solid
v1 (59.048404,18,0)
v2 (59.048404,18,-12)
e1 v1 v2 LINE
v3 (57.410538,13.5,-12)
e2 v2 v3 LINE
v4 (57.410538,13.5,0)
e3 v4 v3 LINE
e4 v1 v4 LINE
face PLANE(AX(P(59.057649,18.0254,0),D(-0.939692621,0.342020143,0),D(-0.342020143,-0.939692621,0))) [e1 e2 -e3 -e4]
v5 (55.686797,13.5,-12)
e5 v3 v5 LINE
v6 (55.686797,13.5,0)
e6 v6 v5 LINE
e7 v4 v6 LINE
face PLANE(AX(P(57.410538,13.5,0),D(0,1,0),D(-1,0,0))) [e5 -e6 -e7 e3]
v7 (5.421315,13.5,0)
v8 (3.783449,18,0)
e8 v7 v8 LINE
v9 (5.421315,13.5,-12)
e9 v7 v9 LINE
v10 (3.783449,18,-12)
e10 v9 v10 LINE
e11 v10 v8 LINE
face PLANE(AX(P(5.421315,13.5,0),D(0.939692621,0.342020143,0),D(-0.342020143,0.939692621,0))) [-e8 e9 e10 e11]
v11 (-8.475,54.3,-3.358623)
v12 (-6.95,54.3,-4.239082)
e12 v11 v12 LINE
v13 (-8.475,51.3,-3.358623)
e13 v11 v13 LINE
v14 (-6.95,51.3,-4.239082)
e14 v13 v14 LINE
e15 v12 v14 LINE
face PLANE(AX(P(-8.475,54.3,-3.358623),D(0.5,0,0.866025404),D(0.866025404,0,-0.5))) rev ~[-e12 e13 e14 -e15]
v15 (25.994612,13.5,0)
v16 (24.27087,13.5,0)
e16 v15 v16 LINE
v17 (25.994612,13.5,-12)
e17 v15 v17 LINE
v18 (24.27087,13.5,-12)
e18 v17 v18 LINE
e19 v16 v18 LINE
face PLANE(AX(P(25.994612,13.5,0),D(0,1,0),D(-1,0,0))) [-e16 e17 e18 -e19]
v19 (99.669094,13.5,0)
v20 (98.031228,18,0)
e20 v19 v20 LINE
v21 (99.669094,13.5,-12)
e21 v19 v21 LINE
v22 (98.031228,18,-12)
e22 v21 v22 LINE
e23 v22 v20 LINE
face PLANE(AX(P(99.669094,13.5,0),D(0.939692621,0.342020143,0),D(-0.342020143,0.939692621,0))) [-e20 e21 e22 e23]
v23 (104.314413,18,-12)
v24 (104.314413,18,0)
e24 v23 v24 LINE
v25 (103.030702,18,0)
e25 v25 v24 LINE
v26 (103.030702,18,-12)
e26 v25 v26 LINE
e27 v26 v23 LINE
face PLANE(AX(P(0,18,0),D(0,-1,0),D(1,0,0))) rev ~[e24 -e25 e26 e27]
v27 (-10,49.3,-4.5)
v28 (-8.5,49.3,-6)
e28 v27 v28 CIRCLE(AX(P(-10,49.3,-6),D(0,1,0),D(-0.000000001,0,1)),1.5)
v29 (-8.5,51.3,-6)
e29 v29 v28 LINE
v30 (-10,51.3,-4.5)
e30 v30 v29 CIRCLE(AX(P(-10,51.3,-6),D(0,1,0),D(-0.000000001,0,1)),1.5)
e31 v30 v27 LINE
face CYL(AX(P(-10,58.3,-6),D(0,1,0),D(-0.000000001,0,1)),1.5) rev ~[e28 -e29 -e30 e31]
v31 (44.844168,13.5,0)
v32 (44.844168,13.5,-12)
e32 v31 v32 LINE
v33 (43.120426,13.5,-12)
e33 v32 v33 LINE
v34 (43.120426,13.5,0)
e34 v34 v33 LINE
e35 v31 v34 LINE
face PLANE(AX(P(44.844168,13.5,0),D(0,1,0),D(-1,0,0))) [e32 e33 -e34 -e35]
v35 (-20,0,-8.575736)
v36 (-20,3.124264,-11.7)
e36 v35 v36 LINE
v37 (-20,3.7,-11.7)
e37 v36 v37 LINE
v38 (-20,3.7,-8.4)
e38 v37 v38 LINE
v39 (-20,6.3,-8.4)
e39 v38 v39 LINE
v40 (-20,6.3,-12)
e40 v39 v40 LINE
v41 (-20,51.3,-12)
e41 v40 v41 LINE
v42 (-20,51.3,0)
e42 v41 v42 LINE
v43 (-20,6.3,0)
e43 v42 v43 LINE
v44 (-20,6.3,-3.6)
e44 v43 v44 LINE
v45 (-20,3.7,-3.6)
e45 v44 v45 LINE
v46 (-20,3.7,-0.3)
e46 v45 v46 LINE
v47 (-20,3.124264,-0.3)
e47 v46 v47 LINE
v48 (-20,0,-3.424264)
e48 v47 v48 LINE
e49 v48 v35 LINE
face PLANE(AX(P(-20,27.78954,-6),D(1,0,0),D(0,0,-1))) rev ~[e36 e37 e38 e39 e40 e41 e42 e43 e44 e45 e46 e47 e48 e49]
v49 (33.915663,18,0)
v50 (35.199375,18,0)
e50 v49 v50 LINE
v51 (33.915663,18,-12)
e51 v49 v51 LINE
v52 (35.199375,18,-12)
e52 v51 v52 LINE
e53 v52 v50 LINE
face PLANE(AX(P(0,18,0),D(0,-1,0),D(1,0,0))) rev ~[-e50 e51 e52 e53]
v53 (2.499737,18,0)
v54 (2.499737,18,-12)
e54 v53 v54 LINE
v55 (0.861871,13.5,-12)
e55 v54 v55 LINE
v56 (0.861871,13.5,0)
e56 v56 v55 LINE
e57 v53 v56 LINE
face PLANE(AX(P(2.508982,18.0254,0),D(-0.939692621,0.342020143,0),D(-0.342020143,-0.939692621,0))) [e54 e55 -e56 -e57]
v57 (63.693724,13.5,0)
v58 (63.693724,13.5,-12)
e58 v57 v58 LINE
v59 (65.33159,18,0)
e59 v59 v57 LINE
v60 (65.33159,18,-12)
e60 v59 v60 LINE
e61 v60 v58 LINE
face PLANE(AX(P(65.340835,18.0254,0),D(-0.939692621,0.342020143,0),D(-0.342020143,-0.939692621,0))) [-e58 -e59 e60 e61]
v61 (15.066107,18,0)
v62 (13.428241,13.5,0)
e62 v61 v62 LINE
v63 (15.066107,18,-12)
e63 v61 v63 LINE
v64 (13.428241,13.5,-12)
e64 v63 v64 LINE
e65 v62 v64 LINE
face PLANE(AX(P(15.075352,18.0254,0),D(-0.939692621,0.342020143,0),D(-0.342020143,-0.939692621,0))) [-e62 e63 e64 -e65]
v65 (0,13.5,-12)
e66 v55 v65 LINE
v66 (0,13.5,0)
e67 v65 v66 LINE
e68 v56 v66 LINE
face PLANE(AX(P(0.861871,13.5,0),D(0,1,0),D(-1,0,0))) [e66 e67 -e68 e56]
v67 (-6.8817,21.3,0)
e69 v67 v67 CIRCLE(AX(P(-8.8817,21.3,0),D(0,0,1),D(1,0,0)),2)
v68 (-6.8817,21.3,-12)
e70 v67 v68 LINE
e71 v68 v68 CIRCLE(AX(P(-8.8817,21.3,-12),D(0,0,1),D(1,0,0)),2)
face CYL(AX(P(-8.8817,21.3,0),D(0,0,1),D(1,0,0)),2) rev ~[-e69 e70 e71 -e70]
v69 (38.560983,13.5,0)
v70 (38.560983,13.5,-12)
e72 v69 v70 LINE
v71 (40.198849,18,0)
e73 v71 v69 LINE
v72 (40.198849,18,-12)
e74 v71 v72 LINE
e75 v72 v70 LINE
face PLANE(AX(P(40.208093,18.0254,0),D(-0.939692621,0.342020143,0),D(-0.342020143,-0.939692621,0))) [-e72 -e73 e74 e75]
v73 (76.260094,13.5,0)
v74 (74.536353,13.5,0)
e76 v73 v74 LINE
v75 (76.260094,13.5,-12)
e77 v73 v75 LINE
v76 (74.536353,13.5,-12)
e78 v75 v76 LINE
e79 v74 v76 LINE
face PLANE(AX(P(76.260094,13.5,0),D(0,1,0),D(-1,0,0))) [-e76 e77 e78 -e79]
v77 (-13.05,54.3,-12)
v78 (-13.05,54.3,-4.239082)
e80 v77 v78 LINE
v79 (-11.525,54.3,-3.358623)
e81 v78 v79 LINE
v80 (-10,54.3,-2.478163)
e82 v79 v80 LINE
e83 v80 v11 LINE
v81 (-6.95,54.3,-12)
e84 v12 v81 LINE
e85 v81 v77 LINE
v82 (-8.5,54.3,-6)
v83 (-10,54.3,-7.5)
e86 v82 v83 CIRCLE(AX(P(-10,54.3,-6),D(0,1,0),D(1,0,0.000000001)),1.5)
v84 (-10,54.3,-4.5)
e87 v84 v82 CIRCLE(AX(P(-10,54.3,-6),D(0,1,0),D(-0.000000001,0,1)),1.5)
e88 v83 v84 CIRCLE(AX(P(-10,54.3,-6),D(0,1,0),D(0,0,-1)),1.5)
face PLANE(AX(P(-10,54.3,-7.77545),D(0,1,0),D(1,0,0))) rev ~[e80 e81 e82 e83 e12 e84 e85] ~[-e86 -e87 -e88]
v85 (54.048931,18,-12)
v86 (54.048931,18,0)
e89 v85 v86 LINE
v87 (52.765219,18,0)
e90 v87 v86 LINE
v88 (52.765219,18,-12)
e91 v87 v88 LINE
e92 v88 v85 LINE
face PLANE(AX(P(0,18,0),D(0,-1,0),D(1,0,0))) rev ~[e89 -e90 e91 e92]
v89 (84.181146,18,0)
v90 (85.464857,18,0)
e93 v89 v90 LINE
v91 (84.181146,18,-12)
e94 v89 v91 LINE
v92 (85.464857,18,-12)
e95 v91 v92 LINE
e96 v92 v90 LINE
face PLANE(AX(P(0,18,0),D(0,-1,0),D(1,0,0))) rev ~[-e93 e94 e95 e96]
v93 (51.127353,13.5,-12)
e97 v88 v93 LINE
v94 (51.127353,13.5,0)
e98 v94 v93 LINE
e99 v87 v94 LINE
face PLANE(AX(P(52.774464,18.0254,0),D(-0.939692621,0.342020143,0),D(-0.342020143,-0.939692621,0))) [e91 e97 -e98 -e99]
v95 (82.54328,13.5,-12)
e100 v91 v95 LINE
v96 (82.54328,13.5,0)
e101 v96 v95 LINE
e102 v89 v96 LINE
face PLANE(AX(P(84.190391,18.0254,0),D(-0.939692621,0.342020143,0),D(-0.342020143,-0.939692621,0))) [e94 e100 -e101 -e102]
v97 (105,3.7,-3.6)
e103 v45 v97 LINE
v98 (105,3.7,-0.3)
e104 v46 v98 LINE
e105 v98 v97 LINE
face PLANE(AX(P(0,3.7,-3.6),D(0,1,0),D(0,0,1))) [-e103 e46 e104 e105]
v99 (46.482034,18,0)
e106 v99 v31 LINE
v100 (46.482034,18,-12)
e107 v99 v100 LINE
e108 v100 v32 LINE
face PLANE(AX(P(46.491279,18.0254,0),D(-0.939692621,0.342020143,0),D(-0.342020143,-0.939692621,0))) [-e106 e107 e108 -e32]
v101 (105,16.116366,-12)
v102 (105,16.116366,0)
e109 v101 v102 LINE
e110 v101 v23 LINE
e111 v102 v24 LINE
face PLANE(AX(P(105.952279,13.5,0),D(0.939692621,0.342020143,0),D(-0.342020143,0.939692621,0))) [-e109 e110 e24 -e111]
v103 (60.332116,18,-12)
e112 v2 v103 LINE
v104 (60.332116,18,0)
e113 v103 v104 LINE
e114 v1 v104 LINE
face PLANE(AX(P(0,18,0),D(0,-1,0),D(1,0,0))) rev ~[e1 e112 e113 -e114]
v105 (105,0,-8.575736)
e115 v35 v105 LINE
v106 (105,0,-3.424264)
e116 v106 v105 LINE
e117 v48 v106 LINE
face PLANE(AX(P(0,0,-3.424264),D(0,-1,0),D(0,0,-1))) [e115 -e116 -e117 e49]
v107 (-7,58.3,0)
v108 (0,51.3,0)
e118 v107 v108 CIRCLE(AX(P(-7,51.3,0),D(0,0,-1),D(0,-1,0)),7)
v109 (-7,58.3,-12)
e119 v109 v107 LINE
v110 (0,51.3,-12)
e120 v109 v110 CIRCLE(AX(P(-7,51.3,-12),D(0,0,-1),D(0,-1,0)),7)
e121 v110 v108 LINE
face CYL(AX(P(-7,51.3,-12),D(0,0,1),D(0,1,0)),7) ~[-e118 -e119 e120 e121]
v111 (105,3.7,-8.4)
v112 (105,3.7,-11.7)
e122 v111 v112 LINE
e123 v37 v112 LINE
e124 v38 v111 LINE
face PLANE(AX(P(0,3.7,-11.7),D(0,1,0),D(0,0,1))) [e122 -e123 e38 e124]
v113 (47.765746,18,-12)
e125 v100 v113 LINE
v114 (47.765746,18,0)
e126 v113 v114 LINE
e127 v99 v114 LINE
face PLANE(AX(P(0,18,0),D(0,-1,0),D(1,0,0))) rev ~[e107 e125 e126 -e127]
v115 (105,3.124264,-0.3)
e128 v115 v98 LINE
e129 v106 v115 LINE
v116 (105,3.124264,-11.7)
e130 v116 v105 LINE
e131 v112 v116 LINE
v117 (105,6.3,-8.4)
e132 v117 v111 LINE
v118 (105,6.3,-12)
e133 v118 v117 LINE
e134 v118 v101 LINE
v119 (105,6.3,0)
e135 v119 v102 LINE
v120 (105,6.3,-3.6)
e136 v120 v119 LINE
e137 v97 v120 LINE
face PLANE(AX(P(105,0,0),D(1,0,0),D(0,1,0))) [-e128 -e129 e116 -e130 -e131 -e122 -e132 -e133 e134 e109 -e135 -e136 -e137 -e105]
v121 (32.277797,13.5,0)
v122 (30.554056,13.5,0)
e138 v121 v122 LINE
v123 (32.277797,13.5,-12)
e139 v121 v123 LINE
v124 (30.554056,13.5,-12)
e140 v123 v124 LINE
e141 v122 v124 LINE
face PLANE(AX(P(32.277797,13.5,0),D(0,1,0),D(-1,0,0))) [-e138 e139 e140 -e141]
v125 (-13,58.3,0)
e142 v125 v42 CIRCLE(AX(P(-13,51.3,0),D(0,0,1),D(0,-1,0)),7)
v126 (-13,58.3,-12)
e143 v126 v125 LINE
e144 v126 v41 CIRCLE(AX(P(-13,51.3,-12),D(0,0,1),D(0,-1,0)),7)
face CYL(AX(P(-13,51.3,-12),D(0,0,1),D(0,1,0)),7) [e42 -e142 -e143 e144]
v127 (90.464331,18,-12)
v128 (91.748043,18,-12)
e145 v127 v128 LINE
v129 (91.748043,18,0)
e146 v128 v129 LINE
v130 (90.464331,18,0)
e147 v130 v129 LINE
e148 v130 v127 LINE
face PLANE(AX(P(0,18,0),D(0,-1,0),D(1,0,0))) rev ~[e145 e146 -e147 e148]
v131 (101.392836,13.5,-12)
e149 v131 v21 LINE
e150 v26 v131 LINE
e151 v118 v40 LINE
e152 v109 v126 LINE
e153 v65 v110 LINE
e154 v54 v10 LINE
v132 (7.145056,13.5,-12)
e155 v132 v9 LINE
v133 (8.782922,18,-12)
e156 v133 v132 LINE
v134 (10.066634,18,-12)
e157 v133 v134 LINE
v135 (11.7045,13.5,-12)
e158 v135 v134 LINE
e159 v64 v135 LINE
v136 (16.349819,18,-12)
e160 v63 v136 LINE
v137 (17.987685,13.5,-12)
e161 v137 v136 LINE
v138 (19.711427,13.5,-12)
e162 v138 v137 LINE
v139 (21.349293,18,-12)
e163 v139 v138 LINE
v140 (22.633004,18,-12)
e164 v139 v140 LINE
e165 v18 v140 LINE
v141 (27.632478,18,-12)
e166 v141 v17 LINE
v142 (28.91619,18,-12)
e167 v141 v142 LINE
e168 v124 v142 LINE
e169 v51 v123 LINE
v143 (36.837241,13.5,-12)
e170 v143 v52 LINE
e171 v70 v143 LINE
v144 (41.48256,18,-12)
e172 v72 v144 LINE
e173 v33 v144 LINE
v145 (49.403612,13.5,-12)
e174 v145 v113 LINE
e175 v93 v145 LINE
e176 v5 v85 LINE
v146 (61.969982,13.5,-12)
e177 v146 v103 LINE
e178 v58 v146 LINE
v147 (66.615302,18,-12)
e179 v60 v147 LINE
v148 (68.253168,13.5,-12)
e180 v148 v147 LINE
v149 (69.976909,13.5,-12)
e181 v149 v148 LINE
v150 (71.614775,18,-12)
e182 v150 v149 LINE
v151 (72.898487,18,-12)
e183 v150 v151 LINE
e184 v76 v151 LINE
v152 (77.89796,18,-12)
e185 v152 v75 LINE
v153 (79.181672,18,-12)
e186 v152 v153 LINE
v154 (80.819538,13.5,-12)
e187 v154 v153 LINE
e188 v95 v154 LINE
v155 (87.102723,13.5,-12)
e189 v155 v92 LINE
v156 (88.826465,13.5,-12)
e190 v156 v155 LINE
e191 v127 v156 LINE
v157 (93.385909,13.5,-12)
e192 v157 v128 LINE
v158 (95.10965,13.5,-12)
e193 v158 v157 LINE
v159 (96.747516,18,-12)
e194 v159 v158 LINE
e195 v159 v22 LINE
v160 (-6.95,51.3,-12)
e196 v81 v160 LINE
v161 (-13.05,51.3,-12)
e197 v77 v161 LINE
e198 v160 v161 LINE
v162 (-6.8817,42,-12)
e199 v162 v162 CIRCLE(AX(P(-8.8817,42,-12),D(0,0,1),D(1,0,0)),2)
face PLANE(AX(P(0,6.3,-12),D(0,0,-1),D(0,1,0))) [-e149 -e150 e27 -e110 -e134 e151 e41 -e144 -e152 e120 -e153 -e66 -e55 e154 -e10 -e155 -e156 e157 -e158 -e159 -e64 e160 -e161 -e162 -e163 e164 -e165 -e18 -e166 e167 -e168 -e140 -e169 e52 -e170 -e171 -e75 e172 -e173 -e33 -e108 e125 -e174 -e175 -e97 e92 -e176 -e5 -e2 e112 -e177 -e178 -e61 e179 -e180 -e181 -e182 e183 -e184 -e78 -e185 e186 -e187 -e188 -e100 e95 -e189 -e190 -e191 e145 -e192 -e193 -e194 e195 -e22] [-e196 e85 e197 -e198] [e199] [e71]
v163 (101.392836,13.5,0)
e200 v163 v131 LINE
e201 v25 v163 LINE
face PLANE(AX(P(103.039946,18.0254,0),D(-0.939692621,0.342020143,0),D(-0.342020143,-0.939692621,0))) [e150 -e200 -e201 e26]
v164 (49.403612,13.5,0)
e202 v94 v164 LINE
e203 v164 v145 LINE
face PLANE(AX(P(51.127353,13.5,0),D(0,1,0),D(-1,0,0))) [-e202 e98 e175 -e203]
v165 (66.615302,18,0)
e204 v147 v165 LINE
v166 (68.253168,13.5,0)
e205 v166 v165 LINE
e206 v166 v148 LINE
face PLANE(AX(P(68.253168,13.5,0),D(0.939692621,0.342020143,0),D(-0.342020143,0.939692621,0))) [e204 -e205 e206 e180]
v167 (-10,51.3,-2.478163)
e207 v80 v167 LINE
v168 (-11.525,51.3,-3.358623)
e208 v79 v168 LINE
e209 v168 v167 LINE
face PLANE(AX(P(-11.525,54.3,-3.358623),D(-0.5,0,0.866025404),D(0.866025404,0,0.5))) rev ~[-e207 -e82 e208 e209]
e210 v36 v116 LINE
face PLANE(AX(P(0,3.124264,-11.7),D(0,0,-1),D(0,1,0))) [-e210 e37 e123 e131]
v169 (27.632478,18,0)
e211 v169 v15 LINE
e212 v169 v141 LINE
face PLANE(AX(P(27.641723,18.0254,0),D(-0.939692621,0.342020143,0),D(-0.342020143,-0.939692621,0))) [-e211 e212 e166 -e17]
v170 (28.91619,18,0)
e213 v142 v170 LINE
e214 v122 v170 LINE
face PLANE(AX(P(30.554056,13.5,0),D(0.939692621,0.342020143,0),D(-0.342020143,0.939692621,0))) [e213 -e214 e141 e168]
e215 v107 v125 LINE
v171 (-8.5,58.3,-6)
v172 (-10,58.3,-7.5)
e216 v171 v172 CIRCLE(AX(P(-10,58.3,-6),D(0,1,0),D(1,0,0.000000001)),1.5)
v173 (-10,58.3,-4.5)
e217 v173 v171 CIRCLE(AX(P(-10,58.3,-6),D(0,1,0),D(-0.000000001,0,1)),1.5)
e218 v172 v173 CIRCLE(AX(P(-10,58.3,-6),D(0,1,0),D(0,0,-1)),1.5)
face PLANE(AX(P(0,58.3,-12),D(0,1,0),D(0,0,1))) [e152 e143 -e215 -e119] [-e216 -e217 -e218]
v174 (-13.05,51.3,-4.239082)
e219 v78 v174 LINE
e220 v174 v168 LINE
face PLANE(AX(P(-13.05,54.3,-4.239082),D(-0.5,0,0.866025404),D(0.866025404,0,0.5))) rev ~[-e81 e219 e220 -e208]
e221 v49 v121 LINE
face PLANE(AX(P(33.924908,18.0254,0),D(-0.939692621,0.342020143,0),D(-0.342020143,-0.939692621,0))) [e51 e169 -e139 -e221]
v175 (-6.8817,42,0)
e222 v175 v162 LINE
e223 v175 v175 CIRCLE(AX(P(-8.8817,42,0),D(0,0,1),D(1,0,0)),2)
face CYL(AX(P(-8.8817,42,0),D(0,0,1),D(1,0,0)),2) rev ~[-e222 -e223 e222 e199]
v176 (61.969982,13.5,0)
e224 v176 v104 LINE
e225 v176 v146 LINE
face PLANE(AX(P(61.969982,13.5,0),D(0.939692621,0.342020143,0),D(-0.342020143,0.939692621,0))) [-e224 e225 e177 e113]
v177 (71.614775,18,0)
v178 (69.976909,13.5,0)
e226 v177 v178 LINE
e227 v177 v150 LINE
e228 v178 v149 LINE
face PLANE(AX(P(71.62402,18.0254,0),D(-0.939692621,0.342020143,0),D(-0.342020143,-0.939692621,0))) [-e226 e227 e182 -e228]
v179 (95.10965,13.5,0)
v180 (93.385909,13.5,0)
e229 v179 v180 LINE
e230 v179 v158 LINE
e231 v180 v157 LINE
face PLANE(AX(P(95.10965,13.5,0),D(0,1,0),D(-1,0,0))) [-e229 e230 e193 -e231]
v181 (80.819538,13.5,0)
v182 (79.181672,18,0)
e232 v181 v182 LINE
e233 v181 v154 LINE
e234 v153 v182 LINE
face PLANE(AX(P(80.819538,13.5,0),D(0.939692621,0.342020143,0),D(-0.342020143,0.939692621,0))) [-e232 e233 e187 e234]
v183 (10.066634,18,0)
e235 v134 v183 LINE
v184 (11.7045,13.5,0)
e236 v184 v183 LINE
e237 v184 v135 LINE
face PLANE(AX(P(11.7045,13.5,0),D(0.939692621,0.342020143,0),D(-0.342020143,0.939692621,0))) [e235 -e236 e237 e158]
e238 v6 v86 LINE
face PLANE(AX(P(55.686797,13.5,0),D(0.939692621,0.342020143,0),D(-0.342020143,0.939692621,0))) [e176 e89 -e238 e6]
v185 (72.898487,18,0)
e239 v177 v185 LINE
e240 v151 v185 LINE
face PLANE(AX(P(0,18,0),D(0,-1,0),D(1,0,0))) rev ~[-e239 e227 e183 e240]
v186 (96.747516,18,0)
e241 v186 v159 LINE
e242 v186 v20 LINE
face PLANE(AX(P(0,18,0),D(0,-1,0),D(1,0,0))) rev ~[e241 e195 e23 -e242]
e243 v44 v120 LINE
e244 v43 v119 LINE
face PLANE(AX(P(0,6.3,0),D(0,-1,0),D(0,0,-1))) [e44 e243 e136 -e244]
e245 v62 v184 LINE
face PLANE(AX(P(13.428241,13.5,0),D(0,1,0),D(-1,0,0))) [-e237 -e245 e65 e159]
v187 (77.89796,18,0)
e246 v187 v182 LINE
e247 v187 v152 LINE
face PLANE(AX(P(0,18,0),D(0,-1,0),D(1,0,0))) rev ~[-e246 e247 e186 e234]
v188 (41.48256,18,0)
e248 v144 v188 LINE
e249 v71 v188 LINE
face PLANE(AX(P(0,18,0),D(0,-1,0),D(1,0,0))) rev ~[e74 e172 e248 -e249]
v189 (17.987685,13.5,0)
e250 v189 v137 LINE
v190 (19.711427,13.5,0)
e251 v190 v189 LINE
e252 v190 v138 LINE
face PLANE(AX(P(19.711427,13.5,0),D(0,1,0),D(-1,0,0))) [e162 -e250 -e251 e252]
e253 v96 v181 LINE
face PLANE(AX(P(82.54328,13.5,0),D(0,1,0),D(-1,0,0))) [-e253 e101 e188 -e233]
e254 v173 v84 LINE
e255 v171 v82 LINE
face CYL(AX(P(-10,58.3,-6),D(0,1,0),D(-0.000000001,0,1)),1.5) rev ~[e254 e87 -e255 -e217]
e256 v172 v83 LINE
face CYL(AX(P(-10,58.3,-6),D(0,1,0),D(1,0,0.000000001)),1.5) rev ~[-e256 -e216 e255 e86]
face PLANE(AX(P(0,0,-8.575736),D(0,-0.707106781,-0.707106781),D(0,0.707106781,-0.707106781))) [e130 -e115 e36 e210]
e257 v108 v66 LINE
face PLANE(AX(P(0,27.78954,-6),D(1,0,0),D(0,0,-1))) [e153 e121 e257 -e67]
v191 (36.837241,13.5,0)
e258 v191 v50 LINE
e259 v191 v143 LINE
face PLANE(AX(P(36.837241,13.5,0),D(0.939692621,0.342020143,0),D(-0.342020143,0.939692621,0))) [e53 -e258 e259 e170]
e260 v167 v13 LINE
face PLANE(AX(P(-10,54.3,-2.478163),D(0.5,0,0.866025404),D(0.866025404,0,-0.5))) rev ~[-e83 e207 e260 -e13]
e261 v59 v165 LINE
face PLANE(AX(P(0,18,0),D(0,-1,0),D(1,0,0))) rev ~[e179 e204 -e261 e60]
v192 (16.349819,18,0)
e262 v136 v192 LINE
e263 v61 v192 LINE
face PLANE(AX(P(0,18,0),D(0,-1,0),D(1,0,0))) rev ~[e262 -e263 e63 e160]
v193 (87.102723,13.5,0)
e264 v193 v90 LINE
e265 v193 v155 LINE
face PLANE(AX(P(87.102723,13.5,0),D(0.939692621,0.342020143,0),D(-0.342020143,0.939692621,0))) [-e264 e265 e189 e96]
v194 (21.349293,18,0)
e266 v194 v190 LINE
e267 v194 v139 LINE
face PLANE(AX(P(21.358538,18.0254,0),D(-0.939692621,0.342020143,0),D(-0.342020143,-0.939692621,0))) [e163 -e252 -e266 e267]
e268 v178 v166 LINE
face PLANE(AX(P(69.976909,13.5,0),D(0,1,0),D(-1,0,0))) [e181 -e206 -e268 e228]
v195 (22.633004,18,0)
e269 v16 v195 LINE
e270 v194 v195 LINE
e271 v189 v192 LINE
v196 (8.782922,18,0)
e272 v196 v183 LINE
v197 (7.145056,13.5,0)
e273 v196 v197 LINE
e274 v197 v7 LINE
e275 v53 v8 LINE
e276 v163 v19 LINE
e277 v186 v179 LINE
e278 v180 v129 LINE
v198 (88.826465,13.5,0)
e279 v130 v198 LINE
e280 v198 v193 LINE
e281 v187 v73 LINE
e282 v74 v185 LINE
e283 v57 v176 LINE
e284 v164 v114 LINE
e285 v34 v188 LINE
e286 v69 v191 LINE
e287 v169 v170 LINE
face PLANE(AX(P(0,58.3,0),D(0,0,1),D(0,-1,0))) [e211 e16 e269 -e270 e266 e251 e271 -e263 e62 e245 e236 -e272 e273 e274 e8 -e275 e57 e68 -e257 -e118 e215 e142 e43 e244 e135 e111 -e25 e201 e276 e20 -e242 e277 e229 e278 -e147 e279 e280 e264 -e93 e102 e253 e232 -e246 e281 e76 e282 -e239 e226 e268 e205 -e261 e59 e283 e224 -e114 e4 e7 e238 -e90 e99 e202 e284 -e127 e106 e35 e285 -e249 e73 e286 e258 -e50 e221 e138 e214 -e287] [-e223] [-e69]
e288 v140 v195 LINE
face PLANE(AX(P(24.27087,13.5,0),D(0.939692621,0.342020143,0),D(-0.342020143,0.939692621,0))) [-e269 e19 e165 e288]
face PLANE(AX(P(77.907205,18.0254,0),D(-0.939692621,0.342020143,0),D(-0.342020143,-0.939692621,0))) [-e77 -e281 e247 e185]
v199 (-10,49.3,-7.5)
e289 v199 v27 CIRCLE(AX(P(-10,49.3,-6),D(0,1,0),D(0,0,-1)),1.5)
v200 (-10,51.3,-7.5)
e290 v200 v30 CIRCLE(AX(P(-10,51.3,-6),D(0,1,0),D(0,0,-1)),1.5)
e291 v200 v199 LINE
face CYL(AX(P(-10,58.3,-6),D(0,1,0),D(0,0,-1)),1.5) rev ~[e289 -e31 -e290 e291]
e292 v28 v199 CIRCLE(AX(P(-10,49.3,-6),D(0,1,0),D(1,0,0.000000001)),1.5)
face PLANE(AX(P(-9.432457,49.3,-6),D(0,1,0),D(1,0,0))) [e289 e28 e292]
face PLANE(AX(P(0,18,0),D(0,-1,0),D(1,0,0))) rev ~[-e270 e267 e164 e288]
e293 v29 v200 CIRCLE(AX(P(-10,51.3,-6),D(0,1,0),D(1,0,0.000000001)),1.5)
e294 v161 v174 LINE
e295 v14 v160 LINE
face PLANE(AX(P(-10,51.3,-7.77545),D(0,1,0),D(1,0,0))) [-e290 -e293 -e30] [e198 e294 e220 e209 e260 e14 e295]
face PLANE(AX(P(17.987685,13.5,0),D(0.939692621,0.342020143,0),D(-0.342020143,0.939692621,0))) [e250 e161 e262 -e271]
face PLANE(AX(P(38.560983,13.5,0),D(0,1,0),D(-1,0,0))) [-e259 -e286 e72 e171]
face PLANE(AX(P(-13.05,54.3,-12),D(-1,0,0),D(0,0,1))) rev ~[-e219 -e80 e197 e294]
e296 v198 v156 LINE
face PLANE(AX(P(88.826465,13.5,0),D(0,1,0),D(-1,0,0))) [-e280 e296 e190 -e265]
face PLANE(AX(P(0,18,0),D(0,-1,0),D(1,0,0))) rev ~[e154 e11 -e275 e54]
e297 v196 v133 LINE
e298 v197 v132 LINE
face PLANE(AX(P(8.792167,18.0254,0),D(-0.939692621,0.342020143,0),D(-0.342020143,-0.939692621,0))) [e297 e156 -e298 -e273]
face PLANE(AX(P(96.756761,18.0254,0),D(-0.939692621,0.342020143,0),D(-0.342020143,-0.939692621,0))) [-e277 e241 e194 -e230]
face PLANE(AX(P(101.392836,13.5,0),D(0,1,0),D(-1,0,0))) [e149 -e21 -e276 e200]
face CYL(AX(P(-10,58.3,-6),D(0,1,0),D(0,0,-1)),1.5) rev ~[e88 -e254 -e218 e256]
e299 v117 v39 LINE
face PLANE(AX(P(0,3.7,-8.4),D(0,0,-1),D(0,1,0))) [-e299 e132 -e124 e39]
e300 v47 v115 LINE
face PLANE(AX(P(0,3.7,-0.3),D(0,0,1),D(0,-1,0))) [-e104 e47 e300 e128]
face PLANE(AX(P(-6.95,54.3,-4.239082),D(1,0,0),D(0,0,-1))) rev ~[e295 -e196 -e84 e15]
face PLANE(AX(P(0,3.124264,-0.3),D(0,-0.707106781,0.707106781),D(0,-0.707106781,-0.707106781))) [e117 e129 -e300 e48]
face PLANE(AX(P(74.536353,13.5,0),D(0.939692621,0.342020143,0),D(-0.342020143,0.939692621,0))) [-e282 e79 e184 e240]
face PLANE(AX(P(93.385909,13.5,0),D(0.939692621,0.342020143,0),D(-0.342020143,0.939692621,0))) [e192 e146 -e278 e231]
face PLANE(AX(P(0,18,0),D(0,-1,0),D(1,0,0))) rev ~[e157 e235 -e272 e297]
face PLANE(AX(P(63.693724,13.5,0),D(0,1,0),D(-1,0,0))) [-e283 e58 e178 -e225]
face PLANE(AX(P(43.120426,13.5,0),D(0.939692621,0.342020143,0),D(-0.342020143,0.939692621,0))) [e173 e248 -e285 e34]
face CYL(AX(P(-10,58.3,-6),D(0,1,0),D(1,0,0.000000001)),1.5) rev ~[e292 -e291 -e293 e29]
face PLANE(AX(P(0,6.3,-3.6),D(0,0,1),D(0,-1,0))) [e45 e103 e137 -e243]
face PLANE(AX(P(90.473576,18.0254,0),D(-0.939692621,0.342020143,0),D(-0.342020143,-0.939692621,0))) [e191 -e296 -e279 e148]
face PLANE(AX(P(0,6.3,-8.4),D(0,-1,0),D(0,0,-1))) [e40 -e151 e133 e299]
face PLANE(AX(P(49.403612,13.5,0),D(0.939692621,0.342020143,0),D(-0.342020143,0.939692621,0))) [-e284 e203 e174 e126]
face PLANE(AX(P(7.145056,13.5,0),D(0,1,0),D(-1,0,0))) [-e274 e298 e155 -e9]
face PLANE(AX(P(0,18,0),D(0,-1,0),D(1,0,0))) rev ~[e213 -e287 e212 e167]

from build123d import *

# Parameters (mm, degrees)
BLANKSKE_W          = 105
BLANKSKE_H          = 18
BLANK_DEPTH         = 12
TOOTHCUTSIM_DEPTH   = 108.205410311
TEETHCUTS_COUNT     = 18
TEETHCUTS_PITCH     = 6.2831853
CUT_EXTRUDE1_DEPTH  = 108.205410311
BOSS_EXTRUDE1_DEPTH = 20
FILLET2_R           = 7
CUT_EXTRUDE2_DEPTH  = 9
CUT_EXTRUDE3_DEPTH  = 3
CUT_EXTRUDE4_REACH  = 122.698
SKETCH5_R           = 2


with BuildPart() as part:
    # BlankSke → Blank (new body)
    with BuildSketch(Plane.XY):
        with Locations((52.5, 9)):
            Rectangle(BLANKSKE_W, BLANKSKE_H)
    extrude(amount=-BLANK_DEPTH)

    # TooCutSkeSim → ToothCutSim (cut, through all)
    with BuildSketch(Plane.XY):
        Polygon((0.861870739, 13.5), (-0.861870739, 13.5), (-2.508981637, 18.0254), (2.508981637, 18.0254), align=None)
    toothcutsim = extrude(amount=-TOOTHCUTSIM_DEPTH, mode=Mode.SUBTRACT)

    # TeethCuts: ToothCutSim ×18
    with Locations(*[(i * TEETHCUTS_PITCH, 0, 0) for i in range(1, TEETHCUTS_COUNT)]):
        add(toothcutsim, mode=Mode.SUBTRACT)

    # Sketch1 → Cut-Extrude1 (cut, through all)
    with BuildSketch(Plane(origin=(105, 0, 0), x_dir=(0, 0, -1), z_dir=(1, 0, 0))):
        Polygon((0, 0), (3.424264069, 0), (0.3, 3.124264069), (0.3, 3.7), (3.6, 3.7), (3.6, 6.3), (0, 6.3), align=None)
        Polygon((11.7, 3.124264069), (8.575735931, 0), (12, 0), (12, 6.3), (8.4, 6.3), (8.4, 3.7), (11.7, 3.7), align=None)
    extrude(amount=-CUT_EXTRUDE1_DEPTH, mode=Mode.SUBTRACT)

    # Sketch2 → Boss-Extrude1 (add)
    with BuildSketch(Plane.ZY):
        Polygon((-12, 58.3), (0, 58.3), (0, 6.3), (-3.6, 6.3), (-3.6, 3.7), (-0.3, 3.7), (-0.3, 3.124264069), (-3.424264069, 0), (-8.575735931, 0), (-11.7, 3.124264069), (-11.7, 3.7), (-8.4, 3.7), (-8.4, 6.3), (-12, 6.3), align=None)
    extrude(amount=BOSS_EXTRUDE1_DEPTH)

    # Fillet2
    fillet2_edges = [part.edges().sort_by_distance(p)[0] for p in [
        (0, 58.3, -6),
        (-20, 58.3, -6),
    ]]
    fillet(fillet2_edges, radius=FILLET2_R)

    # Sketch3 → Cut-Extrude2 (cut)
    with BuildSketch(Plane(origin=(0, 58.3, 0), x_dir=(1, 0, 0), z_dir=(0, 1, 0))):
        with BuildLine():
            ThreePointArc((-8.5, 6), (-8.939339828, 7.060660172), (-10, 7.5))
            Line((-10, 7.5), (-10, 4.5))
            ThreePointArc((-10, 4.5), (-8.939339828, 4.939339828), (-8.5, 6))
        make_face()
        with BuildLine():
            Line((-10, 4.5), (-10, 7.5))
            ThreePointArc((-10, 7.5), (-11.5, 6), (-10, 4.5))
        make_face()
    extrude(amount=-CUT_EXTRUDE2_DEPTH, mode=Mode.SUBTRACT)

    # Sketch4 → Cut-Extrude3 (cut)
    with BuildSketch(Plane(origin=(0, 54.3, 0), x_dir=(1, 0, 0), z_dir=(0, 1, 0))):
        Polygon((-13.05, 12), (-13.05, 7.760918321), (-13.05, 6), (-13.05, 4.239081679), (-11.525, 3.358622518), (-10, 2.478163358), (-8.475, 3.358622518), (-6.95, 4.239081679), (-6.95, 6), (-6.95, 7.760918321), (-6.95, 12), align=None)
        with BuildLine():
            ThreePointArc((-8.75, 6), (-10, 4.75), (-11.25, 6))
            ThreePointArc((-11.25, 6), (-10, 7.25), (-8.75, 6))
        make_face(mode=Mode.SUBTRACT)
    extrude(amount=-CUT_EXTRUDE3_DEPTH, mode=Mode.SUBTRACT)

    # Sketch5 → Cut-Extrude4 (cut, up to next)
    with BuildSketch(Plane.XY, mode=Mode.PRIVATE) as cut_extrude4_sk1:
        with Locations((-8.8817, 42)):
            Circle(SKETCH5_R)
    cut_extrude4_tool1 = extrude(cut_extrude4_sk1.sketch, amount=-CUT_EXTRUDE4_REACH, mode=Mode.PRIVATE) & part.part
    # Sketch5 → Cut-Extrude4 (cut, up to next)
    with BuildSketch(Plane.XY, mode=Mode.PRIVATE) as cut_extrude4_sk2:
        with Locations((-8.8817, 21.3)):
            Circle(SKETCH5_R)
    cut_extrude4_tool2 = extrude(cut_extrude4_sk2.sketch, amount=-CUT_EXTRUDE4_REACH, mode=Mode.PRIVATE) & part.part
    add(cut_extrude4_tool1.solids().sort_by_distance((-8.8817, 42, 0))[0], mode=Mode.SUBTRACT)
    add(cut_extrude4_tool2.solids().sort_by_distance((-8.8817, 21.3, 0))[0], mode=Mode.SUBTRACT)


solid = part.part
